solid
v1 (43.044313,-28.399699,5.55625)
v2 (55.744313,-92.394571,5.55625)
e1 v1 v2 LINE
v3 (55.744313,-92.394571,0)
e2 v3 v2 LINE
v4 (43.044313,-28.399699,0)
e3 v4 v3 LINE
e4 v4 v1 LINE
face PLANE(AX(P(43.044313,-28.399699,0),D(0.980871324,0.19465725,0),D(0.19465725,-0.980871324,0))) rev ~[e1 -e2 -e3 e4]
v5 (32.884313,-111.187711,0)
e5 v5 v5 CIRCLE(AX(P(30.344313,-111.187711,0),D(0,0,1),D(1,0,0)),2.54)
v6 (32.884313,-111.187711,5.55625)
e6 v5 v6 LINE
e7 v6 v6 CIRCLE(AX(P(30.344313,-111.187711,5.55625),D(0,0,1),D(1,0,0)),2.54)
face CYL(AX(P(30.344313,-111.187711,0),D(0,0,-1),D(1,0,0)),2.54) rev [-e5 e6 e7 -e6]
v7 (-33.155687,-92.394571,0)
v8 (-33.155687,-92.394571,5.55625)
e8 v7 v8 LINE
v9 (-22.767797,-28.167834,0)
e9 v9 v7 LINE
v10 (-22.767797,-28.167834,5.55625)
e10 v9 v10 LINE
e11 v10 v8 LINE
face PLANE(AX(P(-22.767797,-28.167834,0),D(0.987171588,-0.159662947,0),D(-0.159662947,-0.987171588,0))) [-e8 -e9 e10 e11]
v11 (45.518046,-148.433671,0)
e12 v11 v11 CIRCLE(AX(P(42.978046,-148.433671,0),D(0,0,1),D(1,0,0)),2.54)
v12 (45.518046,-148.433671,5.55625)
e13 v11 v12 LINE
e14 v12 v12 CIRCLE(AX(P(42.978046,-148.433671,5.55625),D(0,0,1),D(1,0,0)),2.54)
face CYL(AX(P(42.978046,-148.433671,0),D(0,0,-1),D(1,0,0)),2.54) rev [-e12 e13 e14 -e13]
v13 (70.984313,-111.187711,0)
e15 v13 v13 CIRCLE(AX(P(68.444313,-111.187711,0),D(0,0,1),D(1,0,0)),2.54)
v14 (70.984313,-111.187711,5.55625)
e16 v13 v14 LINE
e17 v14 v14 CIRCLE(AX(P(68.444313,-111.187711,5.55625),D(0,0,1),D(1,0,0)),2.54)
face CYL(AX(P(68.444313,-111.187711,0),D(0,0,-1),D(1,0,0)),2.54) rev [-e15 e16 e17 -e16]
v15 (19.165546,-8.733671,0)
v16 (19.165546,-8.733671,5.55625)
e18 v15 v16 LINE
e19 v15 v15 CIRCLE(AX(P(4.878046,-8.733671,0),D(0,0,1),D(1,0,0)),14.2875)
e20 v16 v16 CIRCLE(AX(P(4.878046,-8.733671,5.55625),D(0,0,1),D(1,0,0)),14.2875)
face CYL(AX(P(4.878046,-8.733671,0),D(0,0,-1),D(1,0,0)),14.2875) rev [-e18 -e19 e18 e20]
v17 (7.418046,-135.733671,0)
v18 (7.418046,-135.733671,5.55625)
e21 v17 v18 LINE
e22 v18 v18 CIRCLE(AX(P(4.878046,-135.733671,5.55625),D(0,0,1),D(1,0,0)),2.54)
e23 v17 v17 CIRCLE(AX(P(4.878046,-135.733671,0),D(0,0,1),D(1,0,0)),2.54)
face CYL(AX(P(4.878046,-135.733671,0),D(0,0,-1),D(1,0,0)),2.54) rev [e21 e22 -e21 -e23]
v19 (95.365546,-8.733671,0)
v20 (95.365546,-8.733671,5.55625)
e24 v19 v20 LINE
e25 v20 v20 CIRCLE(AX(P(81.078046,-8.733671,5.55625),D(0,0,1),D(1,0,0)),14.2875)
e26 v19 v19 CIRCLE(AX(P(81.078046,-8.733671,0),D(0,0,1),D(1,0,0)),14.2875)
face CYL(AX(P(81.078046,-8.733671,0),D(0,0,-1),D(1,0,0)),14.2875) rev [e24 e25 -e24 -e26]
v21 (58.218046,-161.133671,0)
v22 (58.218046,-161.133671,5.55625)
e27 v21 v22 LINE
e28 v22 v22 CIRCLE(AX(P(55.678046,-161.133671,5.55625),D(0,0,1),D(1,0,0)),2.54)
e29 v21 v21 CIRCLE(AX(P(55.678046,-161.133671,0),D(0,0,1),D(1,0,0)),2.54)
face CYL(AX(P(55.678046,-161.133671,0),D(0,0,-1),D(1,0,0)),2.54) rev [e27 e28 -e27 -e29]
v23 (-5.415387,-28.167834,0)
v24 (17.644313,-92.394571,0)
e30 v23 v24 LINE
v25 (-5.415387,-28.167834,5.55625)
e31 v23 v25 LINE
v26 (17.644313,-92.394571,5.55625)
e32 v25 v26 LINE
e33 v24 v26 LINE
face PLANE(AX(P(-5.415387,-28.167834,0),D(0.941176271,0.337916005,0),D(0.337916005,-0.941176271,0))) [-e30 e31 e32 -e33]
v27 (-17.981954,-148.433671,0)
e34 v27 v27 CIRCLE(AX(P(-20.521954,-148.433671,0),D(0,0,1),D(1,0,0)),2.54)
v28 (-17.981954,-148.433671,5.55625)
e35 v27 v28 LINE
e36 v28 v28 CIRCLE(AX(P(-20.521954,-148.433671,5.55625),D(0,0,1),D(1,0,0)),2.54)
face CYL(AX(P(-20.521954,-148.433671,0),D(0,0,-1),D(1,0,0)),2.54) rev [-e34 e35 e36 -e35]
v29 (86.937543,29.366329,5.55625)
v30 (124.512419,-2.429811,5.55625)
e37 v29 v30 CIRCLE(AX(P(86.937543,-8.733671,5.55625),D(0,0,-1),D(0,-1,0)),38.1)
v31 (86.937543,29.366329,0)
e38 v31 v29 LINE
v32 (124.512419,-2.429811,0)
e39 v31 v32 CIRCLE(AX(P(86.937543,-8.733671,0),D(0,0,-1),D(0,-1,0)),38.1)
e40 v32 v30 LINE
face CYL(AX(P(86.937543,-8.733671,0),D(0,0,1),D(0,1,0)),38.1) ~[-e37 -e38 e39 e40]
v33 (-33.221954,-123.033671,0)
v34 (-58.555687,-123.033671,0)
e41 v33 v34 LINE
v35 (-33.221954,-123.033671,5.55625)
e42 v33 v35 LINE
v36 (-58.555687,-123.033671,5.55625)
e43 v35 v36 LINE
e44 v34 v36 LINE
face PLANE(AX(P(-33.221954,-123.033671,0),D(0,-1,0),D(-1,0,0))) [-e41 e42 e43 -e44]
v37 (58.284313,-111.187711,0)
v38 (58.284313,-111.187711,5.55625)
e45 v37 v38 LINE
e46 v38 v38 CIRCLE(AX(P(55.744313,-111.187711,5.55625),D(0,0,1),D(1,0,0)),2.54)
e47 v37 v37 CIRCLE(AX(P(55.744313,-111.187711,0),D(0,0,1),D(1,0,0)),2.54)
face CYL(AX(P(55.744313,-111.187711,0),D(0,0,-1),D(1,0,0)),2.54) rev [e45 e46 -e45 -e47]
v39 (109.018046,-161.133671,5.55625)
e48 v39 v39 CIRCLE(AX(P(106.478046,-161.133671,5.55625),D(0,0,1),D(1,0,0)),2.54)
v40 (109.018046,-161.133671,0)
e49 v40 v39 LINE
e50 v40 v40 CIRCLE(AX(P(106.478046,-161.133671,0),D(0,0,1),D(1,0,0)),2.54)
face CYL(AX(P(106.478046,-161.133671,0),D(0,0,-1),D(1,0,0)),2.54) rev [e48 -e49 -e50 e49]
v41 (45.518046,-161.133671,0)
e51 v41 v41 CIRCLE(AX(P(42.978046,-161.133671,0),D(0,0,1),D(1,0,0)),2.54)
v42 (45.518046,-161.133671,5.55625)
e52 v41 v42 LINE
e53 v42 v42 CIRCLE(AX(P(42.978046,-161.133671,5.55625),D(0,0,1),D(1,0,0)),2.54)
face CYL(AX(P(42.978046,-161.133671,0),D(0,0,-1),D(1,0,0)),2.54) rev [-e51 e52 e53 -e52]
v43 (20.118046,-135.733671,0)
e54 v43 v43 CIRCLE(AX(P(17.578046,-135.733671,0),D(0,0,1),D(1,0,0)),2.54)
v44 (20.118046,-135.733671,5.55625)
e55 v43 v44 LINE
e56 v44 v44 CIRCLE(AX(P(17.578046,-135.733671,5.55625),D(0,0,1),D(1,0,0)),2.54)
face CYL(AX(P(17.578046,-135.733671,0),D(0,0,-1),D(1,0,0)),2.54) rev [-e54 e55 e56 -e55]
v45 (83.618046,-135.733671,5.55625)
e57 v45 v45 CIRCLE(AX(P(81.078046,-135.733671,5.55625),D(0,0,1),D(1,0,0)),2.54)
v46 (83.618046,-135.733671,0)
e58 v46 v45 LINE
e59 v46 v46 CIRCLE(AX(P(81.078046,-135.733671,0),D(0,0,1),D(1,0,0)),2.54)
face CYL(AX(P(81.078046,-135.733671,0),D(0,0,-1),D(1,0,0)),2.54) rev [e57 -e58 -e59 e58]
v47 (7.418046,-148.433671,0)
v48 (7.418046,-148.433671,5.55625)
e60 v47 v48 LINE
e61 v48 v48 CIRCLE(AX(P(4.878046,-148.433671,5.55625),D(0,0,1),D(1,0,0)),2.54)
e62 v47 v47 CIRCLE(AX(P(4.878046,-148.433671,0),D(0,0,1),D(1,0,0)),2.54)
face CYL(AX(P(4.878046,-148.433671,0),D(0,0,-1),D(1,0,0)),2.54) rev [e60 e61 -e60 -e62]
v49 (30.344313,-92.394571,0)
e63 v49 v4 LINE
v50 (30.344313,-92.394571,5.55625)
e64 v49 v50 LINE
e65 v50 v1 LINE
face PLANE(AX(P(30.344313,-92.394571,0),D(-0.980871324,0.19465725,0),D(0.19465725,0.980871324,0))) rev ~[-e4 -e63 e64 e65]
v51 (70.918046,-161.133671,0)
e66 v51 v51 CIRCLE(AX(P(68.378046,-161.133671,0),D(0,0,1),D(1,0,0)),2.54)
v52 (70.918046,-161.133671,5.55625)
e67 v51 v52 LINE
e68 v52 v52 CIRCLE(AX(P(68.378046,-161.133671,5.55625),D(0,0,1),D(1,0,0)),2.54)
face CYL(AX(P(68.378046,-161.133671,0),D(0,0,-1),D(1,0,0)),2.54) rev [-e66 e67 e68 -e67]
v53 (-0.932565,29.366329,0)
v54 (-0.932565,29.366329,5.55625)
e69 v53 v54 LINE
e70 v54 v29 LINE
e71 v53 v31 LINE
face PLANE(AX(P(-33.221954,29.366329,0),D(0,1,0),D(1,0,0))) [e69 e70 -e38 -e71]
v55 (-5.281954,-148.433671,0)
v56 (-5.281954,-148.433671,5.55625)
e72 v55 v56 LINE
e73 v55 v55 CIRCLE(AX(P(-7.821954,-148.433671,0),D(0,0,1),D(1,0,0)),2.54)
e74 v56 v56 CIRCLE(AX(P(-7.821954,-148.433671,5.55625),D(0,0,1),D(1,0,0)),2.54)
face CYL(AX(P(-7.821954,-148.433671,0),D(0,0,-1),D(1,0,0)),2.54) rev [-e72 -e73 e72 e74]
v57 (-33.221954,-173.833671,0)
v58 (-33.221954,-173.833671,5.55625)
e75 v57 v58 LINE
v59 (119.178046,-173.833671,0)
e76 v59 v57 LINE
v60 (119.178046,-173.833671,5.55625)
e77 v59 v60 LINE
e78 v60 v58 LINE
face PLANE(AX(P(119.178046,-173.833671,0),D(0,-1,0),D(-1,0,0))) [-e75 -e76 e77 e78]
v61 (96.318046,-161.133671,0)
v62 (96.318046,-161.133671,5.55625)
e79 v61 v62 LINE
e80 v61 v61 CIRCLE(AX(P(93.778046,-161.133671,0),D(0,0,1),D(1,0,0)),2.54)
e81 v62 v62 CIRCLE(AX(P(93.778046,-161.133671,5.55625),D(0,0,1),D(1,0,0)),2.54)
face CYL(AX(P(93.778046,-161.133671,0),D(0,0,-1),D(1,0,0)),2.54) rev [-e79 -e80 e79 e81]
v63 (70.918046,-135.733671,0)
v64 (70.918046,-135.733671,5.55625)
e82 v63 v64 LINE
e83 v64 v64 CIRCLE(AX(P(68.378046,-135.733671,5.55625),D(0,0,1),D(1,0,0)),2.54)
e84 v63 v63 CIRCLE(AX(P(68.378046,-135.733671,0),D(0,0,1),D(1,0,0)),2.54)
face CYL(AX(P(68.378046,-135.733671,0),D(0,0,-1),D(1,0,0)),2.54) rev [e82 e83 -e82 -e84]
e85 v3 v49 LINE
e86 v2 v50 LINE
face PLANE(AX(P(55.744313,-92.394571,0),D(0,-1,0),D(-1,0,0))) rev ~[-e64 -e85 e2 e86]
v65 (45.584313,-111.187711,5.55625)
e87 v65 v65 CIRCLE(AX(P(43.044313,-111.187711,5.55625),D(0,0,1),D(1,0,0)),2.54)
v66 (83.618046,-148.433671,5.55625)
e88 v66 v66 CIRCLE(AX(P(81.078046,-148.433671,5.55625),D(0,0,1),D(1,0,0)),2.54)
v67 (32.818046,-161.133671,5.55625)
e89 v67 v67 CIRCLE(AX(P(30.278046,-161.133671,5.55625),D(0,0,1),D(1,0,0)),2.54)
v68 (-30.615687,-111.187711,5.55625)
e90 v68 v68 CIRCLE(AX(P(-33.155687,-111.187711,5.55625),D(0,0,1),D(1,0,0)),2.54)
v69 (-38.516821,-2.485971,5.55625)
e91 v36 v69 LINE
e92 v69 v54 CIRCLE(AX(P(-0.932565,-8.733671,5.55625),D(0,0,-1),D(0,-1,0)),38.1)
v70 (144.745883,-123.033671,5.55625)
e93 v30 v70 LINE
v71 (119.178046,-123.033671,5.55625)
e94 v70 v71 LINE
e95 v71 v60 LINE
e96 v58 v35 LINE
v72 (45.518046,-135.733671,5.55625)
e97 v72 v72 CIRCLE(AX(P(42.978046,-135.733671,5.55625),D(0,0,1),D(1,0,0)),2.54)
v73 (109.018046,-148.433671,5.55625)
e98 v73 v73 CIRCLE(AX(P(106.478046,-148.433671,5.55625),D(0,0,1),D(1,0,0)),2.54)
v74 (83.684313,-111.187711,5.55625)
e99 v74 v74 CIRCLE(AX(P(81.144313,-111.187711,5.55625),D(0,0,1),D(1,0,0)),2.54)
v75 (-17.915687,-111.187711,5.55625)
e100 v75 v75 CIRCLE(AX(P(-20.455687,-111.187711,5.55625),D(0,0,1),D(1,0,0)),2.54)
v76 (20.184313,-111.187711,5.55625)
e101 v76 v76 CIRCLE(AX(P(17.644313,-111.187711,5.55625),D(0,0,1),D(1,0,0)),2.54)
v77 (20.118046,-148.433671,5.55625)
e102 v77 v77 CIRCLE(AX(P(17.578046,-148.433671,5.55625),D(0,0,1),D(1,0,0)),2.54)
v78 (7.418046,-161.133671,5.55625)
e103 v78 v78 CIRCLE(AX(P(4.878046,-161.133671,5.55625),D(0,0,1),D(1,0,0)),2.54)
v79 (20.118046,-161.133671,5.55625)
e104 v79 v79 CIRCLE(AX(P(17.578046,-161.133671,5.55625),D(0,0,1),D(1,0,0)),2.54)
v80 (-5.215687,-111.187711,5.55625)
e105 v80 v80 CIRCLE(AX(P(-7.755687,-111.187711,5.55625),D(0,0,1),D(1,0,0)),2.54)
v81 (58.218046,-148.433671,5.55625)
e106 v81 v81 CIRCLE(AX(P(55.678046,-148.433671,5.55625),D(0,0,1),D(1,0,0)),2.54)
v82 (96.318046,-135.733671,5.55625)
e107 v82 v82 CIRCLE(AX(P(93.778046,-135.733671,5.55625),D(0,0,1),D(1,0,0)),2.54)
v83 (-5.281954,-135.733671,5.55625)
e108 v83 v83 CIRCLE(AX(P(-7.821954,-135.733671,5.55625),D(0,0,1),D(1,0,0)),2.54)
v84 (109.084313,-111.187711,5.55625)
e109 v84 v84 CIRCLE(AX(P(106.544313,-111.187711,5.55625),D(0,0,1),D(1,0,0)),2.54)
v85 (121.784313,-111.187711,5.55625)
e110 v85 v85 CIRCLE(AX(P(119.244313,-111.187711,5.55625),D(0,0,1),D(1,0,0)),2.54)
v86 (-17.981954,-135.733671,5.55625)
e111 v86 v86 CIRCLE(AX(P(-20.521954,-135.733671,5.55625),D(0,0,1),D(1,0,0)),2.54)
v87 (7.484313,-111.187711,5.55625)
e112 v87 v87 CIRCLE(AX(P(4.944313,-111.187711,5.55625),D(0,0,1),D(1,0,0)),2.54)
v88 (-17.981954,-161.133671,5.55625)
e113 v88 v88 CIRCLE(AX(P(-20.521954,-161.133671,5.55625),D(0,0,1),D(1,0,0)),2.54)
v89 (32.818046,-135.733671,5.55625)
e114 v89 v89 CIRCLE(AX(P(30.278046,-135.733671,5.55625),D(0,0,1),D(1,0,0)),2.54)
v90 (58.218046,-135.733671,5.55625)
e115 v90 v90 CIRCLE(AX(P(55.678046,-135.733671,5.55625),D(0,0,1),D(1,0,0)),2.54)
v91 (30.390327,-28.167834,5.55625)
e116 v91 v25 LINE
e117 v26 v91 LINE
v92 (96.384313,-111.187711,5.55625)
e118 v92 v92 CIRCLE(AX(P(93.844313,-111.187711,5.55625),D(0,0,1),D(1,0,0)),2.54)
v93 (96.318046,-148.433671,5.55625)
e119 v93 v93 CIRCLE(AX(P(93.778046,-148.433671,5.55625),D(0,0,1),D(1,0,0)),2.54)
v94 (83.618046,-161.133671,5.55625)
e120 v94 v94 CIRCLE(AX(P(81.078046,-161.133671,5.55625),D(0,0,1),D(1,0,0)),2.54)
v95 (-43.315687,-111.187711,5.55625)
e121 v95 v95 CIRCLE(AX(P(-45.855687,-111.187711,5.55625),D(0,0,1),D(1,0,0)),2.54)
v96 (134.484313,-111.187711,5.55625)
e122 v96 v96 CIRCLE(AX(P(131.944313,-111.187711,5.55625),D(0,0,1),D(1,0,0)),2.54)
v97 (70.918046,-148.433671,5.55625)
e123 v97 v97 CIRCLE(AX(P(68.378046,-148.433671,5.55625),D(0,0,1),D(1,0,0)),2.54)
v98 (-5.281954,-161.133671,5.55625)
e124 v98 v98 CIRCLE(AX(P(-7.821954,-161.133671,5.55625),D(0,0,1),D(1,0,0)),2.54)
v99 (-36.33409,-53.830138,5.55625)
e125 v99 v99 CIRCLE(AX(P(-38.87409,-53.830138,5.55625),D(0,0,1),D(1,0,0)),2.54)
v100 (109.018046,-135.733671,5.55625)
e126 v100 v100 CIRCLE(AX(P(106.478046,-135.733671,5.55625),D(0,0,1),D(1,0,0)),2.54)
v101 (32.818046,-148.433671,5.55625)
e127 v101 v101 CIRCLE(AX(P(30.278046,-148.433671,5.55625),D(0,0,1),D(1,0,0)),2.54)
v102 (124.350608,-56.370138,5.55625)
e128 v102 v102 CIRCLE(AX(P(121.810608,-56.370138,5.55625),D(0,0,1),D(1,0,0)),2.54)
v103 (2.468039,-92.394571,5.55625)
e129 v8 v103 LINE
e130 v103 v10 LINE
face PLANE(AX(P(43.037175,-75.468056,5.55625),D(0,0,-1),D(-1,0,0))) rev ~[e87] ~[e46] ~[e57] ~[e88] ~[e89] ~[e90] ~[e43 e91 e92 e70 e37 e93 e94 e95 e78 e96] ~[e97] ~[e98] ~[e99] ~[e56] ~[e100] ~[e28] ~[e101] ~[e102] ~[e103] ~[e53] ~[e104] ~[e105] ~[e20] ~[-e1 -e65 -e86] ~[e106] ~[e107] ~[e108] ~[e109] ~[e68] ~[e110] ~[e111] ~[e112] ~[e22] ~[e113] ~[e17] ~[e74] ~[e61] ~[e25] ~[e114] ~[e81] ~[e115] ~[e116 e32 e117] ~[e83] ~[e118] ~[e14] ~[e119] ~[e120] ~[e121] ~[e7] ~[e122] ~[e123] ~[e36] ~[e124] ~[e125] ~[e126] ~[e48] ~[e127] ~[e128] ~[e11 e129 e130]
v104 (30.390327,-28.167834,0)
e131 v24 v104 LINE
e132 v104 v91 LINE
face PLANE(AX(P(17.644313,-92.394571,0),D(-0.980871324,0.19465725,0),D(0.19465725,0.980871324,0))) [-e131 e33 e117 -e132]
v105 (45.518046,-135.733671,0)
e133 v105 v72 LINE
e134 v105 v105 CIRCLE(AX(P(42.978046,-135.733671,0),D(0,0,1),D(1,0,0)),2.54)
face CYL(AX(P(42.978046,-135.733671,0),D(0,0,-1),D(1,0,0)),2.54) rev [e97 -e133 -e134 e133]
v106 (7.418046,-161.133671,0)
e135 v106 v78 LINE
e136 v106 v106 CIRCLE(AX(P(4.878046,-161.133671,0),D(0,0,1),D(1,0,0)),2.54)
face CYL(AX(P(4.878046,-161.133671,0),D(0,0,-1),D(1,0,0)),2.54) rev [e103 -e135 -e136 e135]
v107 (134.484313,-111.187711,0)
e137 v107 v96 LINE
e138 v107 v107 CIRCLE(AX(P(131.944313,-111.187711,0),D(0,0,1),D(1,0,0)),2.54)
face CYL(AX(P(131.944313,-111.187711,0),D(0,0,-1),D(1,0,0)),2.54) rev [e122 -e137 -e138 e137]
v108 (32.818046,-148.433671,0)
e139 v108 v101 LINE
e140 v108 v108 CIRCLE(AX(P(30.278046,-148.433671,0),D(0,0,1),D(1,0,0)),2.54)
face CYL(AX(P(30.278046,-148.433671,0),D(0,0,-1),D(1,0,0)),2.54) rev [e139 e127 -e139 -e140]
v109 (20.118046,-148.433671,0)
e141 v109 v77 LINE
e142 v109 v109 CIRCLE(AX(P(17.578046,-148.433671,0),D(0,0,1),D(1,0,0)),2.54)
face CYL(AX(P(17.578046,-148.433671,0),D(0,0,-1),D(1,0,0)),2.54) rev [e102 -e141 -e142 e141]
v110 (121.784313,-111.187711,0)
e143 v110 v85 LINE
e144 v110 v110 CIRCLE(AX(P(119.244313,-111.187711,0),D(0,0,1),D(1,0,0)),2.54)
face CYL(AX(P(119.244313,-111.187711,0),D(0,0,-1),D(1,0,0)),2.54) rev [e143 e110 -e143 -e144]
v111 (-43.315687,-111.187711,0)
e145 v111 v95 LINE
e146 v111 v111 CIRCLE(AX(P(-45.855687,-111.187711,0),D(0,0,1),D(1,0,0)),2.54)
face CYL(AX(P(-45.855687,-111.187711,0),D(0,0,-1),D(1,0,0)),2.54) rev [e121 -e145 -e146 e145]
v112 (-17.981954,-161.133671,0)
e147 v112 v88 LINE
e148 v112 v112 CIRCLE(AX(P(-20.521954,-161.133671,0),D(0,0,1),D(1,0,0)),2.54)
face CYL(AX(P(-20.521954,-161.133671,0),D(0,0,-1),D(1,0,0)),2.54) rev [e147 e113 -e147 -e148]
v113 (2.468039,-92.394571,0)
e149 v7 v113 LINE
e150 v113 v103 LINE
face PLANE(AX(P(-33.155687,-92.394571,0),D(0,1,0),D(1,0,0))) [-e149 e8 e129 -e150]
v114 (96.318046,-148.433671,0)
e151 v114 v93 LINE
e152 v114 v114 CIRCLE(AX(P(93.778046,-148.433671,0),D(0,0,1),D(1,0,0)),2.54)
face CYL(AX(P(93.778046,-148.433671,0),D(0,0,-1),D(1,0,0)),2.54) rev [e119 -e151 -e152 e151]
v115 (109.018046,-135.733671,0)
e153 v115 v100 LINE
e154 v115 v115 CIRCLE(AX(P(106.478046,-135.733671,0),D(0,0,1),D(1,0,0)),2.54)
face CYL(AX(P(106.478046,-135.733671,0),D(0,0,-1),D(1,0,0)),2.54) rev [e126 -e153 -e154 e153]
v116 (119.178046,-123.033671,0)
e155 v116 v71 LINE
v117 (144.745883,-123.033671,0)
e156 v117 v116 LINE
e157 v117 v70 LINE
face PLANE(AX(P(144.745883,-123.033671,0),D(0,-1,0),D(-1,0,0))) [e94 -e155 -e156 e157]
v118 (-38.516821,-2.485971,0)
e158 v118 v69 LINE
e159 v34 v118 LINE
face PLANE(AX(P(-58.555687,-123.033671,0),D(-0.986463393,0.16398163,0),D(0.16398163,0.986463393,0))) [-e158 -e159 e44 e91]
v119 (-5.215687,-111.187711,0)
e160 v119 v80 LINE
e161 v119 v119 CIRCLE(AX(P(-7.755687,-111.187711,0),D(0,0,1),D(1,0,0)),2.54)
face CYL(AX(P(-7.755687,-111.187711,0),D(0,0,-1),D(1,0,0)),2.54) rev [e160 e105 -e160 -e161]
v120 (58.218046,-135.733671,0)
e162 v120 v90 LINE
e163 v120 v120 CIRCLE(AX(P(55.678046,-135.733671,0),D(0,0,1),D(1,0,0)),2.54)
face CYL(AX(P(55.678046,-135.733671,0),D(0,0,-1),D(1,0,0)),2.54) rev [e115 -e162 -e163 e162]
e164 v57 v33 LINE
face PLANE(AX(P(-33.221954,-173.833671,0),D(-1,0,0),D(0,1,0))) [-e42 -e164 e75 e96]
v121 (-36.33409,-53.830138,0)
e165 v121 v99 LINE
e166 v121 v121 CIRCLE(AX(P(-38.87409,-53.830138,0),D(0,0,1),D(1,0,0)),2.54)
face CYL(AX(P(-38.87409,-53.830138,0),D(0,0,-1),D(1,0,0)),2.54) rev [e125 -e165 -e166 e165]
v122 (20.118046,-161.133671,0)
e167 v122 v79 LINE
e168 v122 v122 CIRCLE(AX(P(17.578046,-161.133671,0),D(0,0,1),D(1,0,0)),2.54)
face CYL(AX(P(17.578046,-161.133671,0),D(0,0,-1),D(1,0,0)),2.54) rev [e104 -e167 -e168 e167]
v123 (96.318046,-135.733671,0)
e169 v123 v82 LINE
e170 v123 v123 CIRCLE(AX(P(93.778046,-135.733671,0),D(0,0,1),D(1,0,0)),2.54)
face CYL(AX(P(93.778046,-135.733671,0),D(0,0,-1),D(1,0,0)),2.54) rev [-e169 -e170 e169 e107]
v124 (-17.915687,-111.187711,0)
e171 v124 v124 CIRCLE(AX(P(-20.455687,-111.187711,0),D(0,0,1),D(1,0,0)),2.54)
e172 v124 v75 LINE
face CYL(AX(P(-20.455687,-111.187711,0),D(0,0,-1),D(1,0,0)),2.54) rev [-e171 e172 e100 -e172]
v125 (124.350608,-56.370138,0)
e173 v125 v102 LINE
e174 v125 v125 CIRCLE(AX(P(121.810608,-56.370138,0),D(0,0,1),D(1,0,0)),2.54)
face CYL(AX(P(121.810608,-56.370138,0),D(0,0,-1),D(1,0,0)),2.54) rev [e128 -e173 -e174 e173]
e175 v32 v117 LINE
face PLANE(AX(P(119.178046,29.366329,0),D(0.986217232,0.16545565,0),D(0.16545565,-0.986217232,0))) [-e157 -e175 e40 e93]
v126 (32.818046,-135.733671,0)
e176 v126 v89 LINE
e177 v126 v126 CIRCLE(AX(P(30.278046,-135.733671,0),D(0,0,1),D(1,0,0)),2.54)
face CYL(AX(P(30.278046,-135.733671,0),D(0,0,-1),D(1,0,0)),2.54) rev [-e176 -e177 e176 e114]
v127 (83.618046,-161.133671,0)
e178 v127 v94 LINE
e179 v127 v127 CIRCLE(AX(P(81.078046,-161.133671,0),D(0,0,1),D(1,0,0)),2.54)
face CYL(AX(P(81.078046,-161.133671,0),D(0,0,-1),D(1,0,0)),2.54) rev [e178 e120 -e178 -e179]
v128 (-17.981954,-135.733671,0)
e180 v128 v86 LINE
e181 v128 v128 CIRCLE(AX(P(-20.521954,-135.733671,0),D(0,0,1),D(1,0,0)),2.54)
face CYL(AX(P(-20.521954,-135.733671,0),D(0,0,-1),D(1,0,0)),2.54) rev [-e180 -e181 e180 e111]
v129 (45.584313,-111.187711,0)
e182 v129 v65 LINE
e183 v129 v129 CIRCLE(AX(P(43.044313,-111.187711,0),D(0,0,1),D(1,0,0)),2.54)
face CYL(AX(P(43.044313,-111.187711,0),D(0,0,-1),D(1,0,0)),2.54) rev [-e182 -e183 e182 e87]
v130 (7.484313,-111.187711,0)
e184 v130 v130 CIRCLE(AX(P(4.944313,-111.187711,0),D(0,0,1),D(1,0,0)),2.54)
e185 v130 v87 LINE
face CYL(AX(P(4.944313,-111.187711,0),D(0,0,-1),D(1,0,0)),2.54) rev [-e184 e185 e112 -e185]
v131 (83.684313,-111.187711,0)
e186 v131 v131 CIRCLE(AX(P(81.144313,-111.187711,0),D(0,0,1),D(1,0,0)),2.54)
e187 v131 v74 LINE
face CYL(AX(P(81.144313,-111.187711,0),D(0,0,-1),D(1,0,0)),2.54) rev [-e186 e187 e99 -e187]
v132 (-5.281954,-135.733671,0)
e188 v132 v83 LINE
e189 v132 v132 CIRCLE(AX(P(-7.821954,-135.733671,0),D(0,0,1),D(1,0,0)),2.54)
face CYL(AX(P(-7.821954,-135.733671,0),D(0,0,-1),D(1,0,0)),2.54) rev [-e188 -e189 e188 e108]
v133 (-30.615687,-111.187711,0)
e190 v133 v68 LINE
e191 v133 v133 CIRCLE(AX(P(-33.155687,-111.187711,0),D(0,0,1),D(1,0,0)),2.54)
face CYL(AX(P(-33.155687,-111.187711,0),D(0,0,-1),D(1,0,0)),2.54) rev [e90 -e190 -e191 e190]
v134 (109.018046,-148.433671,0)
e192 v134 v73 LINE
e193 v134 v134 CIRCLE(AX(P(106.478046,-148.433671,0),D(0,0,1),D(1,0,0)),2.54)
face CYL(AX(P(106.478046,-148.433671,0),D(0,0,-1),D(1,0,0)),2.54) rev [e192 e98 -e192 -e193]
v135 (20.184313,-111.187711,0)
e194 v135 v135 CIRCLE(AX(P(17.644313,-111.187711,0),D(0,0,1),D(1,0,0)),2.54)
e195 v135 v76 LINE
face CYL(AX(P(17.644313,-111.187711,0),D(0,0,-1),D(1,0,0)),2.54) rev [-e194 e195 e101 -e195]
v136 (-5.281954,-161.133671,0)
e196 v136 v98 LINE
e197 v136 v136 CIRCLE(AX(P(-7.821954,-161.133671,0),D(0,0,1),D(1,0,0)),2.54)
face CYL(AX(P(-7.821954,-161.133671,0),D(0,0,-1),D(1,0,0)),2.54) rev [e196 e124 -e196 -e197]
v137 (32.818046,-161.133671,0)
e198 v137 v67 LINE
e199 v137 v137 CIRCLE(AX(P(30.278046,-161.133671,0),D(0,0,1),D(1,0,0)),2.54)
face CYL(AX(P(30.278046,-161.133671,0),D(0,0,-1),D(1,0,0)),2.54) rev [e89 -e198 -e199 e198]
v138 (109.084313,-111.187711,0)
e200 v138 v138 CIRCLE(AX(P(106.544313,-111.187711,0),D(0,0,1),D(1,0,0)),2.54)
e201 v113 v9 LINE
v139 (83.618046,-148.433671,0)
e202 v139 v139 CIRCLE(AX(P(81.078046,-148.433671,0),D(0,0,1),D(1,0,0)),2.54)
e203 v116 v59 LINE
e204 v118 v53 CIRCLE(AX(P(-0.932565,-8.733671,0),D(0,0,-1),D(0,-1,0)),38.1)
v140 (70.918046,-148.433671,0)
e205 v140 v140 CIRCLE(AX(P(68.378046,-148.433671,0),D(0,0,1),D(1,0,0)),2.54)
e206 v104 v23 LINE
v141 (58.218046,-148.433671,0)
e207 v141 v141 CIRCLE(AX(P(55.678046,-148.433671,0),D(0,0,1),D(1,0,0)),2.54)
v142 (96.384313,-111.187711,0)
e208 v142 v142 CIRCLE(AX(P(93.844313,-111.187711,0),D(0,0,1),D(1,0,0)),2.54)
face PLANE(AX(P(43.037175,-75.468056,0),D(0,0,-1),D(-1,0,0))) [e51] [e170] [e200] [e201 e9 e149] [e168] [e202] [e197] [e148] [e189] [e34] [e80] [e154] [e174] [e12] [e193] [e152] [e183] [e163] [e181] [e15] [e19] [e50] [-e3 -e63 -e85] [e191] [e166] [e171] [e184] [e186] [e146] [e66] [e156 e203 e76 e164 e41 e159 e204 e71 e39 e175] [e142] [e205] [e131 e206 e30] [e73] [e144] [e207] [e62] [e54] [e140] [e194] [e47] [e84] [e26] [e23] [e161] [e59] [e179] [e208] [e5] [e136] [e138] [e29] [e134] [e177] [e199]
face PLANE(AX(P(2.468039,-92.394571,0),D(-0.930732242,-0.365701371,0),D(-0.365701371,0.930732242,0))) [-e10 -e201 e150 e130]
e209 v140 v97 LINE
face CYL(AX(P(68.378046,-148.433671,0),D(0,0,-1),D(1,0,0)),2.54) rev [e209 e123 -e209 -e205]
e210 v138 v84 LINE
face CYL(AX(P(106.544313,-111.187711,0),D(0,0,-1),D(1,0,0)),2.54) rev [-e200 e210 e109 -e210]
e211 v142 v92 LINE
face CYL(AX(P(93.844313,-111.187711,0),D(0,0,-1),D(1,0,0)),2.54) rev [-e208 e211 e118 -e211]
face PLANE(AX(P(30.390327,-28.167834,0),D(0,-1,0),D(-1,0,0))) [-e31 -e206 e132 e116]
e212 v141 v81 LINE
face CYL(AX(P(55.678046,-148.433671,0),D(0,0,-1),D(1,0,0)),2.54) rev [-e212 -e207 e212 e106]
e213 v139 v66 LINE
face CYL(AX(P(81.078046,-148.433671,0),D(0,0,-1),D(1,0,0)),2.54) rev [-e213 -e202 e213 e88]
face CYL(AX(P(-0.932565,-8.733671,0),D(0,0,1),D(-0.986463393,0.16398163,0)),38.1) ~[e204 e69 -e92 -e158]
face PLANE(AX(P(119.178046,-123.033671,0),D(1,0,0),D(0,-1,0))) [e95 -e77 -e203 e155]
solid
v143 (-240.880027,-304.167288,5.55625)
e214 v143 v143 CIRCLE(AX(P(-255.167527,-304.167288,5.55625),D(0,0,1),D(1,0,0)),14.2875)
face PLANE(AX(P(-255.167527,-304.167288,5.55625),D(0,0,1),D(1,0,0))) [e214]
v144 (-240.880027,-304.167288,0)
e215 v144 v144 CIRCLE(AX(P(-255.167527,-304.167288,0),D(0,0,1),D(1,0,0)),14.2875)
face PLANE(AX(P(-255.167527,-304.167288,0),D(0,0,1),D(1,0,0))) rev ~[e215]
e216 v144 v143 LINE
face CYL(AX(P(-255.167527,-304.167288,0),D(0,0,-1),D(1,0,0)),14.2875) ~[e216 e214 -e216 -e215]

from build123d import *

# Parameters (mm, degrees)
SKETCH2_R             = 14.2875
BOSS_EXTRUDE1_DEPTH   = 5.55625
SKETCH2_R_2           = 2.54
BOSS_EXTRUDE1_2_DEPTH = 5.55625
FILLET1_R             = 38.1


with BuildPart() as part:
    # Sketch2 → Boss-Extrude1 (new body)
    with BuildSketch(Plane.XY):
        with Locations((-255.167526859, -304.167287888)):
            Circle(SKETCH2_R)
    extrude(amount=BOSS_EXTRUDE1_DEPTH)


with BuildPart() as body_2:
    # Sketch2 → Boss-Extrude1 2 (new body)
    with BuildSketch(Plane.XY):
        Polygon((-33.221954044, -123.033671084), (-58.55568732, -123.033671084), (-33.221954044, 29.366328916), (119.178045956, 29.366328916), (144.745882617, -123.033671084), (119.178045956, -123.033671084), (119.178045956, -173.833671084), (-33.221954044, -173.833671084), align=None)
        with Locations((4.878045956, -8.733671084)):
            Circle(SKETCH2_R, mode=Mode.SUBTRACT)
        with Locations((81.078045956, -8.733671084)):
            Circle(SKETCH2_R, mode=Mode.SUBTRACT)
        with Locations((-45.85568732, -111.187710863)):
            Circle(SKETCH2_R_2, mode=Mode.SUBTRACT)
        with Locations((-33.15568732, -111.187710863)):
            Circle(SKETCH2_R_2, mode=Mode.SUBTRACT)
        with Locations((-20.45568732, -111.187710863)):
            Circle(SKETCH2_R_2, mode=Mode.SUBTRACT)
        with Locations((-7.75568732, -111.187710863)):
            Circle(SKETCH2_R_2, mode=Mode.SUBTRACT)
        with Locations((4.94431268, -111.187710863)):
            Circle(SKETCH2_R_2, mode=Mode.SUBTRACT)
        with Locations((17.64431268, -111.187710863)):
            Circle(SKETCH2_R_2, mode=Mode.SUBTRACT)
        with Locations((30.34431268, -111.187710863)):
            Circle(SKETCH2_R_2, mode=Mode.SUBTRACT)
        with Locations((43.04431268, -111.187710863)):
            Circle(SKETCH2_R_2, mode=Mode.SUBTRACT)
        with Locations((55.74431268, -111.187710863)):
            Circle(SKETCH2_R_2, mode=Mode.SUBTRACT)
        with Locations((68.44431268, -111.187710863)):
            Circle(SKETCH2_R_2, mode=Mode.SUBTRACT)
        with Locations((81.14431268, -111.187710863)):
            Circle(SKETCH2_R_2, mode=Mode.SUBTRACT)
        with Locations((93.84431268, -111.187710863)):
            Circle(SKETCH2_R_2, mode=Mode.SUBTRACT)
        with Locations((106.54431268, -111.187710863)):
            Circle(SKETCH2_R_2, mode=Mode.SUBTRACT)
        with Locations((119.24431268, -111.187710863)):
            Circle(SKETCH2_R_2, mode=Mode.SUBTRACT)
        with Locations((131.94431268, -111.187710863)):
            Circle(SKETCH2_R_2, mode=Mode.SUBTRACT)
        with Locations((121.810607633, -56.370137575)):
            Circle(SKETCH2_R_2, mode=Mode.SUBTRACT)
        with Locations((-38.87409027, -53.830137575)):
            Circle(SKETCH2_R_2, mode=Mode.SUBTRACT)
        with Locations((-20.521954044, -161.133671084)):
            Circle(SKETCH2_R_2, mode=Mode.SUBTRACT)
        with Locations((-7.821954044, -161.133671084)):
            Circle(SKETCH2_R_2, mode=Mode.SUBTRACT)
        with Locations((4.878045956, -161.133671084)):
            Circle(SKETCH2_R_2, mode=Mode.SUBTRACT)
        with Locations((17.578045956, -161.133671084)):
            Circle(SKETCH2_R_2, mode=Mode.SUBTRACT)
        with Locations((30.278045956, -161.133671084)):
            Circle(SKETCH2_R_2, mode=Mode.SUBTRACT)
        with Locations((42.978045956, -161.133671084)):
            Circle(SKETCH2_R_2, mode=Mode.SUBTRACT)
        with Locations((55.678045956, -161.133671084)):
            Circle(SKETCH2_R_2, mode=Mode.SUBTRACT)
        with Locations((68.378045956, -161.133671084)):
            Circle(SKETCH2_R_2, mode=Mode.SUBTRACT)
        with Locations((81.078045956, -161.133671084)):
            Circle(SKETCH2_R_2, mode=Mode.SUBTRACT)
        with Locations((93.778045956, -161.133671084)):
            Circle(SKETCH2_R_2, mode=Mode.SUBTRACT)
        with Locations((106.478045956, -161.133671084)):
            Circle(SKETCH2_R_2, mode=Mode.SUBTRACT)
        with Locations((-7.821954044, -148.433671084)):
            Circle(SKETCH2_R_2, mode=Mode.SUBTRACT)
        with Locations((4.878045956, -148.433671084)):
            Circle(SKETCH2_R_2, mode=Mode.SUBTRACT)
        with Locations((17.578045956, -148.433671084)):
            Circle(SKETCH2_R_2, mode=Mode.SUBTRACT)
        with Locations((30.278045956, -148.433671084)):
            Circle(SKETCH2_R_2, mode=Mode.SUBTRACT)
        with Locations((42.978045956, -148.433671084)):
            Circle(SKETCH2_R_2, mode=Mode.SUBTRACT)
        with Locations((55.678045956, -148.433671084)):
            Circle(SKETCH2_R_2, mode=Mode.SUBTRACT)
        with Locations((68.378045956, -148.433671084)):
            Circle(SKETCH2_R_2, mode=Mode.SUBTRACT)
        with Locations((81.078045956, -148.433671084)):
            Circle(SKETCH2_R_2, mode=Mode.SUBTRACT)
        with Locations((93.778045956, -148.433671084)):
            Circle(SKETCH2_R_2, mode=Mode.SUBTRACT)
        with Locations((106.478045956, -148.433671084)):
            Circle(SKETCH2_R_2, mode=Mode.SUBTRACT)
        with Locations((-7.821954044, -135.733671084)):
            Circle(SKETCH2_R_2, mode=Mode.SUBTRACT)
        with Locations((4.878045956, -135.733671084)):
            Circle(SKETCH2_R_2, mode=Mode.SUBTRACT)
        with Locations((17.578045956, -135.733671084)):
            Circle(SKETCH2_R_2, mode=Mode.SUBTRACT)
        with Locations((30.278045956, -135.733671084)):
            Circle(SKETCH2_R_2, mode=Mode.SUBTRACT)
        with Locations((42.978045956, -135.733671084)):
            Circle(SKETCH2_R_2, mode=Mode.SUBTRACT)
        with Locations((55.678045956, -135.733671084)):
            Circle(SKETCH2_R_2, mode=Mode.SUBTRACT)
        with Locations((68.378045956, -135.733671084)):
            Circle(SKETCH2_R_2, mode=Mode.SUBTRACT)
        with Locations((81.078045956, -135.733671084)):
            Circle(SKETCH2_R_2, mode=Mode.SUBTRACT)
        with Locations((93.778045956, -135.733671084)):
            Circle(SKETCH2_R_2, mode=Mode.SUBTRACT)
        with Locations((106.478045956, -135.733671084)):
            Circle(SKETCH2_R_2, mode=Mode.SUBTRACT)
        with Locations((-20.521954044, -148.433671084)):
            Circle(SKETCH2_R_2, mode=Mode.SUBTRACT)
        with Locations((-20.521954044, -135.733671084)):
            Circle(SKETCH2_R_2, mode=Mode.SUBTRACT)
        Polygon((-22.767796965, -28.16783361), (-33.15568732, -92.394571291), (2.468038836, -92.394571291), align=None, mode=Mode.SUBTRACT)
        Polygon((43.04431268, -28.399699089), (55.74431268, -92.394571291), (30.34431268, -92.394571291), align=None, mode=Mode.SUBTRACT)
        Polygon((17.64431268, -92.394571291), (30.390327173, -28.16783361), (-5.41538745, -28.16783361), align=None, mode=Mode.SUBTRACT)
    extrude(amount=BOSS_EXTRUDE1_2_DEPTH)

    # Fillet1
    fillet1_edges = [body_2.edges().sort_by_distance(p)[0] for p in [
        (-33.221954044, 29.366328916, 2.778125),
        (119.178045956, 29.366328916, 2.778125),
    ]]
    fillet(fillet1_edges, radius=FILLET1_R)


solid = Compound([part.part, body_2.part])
